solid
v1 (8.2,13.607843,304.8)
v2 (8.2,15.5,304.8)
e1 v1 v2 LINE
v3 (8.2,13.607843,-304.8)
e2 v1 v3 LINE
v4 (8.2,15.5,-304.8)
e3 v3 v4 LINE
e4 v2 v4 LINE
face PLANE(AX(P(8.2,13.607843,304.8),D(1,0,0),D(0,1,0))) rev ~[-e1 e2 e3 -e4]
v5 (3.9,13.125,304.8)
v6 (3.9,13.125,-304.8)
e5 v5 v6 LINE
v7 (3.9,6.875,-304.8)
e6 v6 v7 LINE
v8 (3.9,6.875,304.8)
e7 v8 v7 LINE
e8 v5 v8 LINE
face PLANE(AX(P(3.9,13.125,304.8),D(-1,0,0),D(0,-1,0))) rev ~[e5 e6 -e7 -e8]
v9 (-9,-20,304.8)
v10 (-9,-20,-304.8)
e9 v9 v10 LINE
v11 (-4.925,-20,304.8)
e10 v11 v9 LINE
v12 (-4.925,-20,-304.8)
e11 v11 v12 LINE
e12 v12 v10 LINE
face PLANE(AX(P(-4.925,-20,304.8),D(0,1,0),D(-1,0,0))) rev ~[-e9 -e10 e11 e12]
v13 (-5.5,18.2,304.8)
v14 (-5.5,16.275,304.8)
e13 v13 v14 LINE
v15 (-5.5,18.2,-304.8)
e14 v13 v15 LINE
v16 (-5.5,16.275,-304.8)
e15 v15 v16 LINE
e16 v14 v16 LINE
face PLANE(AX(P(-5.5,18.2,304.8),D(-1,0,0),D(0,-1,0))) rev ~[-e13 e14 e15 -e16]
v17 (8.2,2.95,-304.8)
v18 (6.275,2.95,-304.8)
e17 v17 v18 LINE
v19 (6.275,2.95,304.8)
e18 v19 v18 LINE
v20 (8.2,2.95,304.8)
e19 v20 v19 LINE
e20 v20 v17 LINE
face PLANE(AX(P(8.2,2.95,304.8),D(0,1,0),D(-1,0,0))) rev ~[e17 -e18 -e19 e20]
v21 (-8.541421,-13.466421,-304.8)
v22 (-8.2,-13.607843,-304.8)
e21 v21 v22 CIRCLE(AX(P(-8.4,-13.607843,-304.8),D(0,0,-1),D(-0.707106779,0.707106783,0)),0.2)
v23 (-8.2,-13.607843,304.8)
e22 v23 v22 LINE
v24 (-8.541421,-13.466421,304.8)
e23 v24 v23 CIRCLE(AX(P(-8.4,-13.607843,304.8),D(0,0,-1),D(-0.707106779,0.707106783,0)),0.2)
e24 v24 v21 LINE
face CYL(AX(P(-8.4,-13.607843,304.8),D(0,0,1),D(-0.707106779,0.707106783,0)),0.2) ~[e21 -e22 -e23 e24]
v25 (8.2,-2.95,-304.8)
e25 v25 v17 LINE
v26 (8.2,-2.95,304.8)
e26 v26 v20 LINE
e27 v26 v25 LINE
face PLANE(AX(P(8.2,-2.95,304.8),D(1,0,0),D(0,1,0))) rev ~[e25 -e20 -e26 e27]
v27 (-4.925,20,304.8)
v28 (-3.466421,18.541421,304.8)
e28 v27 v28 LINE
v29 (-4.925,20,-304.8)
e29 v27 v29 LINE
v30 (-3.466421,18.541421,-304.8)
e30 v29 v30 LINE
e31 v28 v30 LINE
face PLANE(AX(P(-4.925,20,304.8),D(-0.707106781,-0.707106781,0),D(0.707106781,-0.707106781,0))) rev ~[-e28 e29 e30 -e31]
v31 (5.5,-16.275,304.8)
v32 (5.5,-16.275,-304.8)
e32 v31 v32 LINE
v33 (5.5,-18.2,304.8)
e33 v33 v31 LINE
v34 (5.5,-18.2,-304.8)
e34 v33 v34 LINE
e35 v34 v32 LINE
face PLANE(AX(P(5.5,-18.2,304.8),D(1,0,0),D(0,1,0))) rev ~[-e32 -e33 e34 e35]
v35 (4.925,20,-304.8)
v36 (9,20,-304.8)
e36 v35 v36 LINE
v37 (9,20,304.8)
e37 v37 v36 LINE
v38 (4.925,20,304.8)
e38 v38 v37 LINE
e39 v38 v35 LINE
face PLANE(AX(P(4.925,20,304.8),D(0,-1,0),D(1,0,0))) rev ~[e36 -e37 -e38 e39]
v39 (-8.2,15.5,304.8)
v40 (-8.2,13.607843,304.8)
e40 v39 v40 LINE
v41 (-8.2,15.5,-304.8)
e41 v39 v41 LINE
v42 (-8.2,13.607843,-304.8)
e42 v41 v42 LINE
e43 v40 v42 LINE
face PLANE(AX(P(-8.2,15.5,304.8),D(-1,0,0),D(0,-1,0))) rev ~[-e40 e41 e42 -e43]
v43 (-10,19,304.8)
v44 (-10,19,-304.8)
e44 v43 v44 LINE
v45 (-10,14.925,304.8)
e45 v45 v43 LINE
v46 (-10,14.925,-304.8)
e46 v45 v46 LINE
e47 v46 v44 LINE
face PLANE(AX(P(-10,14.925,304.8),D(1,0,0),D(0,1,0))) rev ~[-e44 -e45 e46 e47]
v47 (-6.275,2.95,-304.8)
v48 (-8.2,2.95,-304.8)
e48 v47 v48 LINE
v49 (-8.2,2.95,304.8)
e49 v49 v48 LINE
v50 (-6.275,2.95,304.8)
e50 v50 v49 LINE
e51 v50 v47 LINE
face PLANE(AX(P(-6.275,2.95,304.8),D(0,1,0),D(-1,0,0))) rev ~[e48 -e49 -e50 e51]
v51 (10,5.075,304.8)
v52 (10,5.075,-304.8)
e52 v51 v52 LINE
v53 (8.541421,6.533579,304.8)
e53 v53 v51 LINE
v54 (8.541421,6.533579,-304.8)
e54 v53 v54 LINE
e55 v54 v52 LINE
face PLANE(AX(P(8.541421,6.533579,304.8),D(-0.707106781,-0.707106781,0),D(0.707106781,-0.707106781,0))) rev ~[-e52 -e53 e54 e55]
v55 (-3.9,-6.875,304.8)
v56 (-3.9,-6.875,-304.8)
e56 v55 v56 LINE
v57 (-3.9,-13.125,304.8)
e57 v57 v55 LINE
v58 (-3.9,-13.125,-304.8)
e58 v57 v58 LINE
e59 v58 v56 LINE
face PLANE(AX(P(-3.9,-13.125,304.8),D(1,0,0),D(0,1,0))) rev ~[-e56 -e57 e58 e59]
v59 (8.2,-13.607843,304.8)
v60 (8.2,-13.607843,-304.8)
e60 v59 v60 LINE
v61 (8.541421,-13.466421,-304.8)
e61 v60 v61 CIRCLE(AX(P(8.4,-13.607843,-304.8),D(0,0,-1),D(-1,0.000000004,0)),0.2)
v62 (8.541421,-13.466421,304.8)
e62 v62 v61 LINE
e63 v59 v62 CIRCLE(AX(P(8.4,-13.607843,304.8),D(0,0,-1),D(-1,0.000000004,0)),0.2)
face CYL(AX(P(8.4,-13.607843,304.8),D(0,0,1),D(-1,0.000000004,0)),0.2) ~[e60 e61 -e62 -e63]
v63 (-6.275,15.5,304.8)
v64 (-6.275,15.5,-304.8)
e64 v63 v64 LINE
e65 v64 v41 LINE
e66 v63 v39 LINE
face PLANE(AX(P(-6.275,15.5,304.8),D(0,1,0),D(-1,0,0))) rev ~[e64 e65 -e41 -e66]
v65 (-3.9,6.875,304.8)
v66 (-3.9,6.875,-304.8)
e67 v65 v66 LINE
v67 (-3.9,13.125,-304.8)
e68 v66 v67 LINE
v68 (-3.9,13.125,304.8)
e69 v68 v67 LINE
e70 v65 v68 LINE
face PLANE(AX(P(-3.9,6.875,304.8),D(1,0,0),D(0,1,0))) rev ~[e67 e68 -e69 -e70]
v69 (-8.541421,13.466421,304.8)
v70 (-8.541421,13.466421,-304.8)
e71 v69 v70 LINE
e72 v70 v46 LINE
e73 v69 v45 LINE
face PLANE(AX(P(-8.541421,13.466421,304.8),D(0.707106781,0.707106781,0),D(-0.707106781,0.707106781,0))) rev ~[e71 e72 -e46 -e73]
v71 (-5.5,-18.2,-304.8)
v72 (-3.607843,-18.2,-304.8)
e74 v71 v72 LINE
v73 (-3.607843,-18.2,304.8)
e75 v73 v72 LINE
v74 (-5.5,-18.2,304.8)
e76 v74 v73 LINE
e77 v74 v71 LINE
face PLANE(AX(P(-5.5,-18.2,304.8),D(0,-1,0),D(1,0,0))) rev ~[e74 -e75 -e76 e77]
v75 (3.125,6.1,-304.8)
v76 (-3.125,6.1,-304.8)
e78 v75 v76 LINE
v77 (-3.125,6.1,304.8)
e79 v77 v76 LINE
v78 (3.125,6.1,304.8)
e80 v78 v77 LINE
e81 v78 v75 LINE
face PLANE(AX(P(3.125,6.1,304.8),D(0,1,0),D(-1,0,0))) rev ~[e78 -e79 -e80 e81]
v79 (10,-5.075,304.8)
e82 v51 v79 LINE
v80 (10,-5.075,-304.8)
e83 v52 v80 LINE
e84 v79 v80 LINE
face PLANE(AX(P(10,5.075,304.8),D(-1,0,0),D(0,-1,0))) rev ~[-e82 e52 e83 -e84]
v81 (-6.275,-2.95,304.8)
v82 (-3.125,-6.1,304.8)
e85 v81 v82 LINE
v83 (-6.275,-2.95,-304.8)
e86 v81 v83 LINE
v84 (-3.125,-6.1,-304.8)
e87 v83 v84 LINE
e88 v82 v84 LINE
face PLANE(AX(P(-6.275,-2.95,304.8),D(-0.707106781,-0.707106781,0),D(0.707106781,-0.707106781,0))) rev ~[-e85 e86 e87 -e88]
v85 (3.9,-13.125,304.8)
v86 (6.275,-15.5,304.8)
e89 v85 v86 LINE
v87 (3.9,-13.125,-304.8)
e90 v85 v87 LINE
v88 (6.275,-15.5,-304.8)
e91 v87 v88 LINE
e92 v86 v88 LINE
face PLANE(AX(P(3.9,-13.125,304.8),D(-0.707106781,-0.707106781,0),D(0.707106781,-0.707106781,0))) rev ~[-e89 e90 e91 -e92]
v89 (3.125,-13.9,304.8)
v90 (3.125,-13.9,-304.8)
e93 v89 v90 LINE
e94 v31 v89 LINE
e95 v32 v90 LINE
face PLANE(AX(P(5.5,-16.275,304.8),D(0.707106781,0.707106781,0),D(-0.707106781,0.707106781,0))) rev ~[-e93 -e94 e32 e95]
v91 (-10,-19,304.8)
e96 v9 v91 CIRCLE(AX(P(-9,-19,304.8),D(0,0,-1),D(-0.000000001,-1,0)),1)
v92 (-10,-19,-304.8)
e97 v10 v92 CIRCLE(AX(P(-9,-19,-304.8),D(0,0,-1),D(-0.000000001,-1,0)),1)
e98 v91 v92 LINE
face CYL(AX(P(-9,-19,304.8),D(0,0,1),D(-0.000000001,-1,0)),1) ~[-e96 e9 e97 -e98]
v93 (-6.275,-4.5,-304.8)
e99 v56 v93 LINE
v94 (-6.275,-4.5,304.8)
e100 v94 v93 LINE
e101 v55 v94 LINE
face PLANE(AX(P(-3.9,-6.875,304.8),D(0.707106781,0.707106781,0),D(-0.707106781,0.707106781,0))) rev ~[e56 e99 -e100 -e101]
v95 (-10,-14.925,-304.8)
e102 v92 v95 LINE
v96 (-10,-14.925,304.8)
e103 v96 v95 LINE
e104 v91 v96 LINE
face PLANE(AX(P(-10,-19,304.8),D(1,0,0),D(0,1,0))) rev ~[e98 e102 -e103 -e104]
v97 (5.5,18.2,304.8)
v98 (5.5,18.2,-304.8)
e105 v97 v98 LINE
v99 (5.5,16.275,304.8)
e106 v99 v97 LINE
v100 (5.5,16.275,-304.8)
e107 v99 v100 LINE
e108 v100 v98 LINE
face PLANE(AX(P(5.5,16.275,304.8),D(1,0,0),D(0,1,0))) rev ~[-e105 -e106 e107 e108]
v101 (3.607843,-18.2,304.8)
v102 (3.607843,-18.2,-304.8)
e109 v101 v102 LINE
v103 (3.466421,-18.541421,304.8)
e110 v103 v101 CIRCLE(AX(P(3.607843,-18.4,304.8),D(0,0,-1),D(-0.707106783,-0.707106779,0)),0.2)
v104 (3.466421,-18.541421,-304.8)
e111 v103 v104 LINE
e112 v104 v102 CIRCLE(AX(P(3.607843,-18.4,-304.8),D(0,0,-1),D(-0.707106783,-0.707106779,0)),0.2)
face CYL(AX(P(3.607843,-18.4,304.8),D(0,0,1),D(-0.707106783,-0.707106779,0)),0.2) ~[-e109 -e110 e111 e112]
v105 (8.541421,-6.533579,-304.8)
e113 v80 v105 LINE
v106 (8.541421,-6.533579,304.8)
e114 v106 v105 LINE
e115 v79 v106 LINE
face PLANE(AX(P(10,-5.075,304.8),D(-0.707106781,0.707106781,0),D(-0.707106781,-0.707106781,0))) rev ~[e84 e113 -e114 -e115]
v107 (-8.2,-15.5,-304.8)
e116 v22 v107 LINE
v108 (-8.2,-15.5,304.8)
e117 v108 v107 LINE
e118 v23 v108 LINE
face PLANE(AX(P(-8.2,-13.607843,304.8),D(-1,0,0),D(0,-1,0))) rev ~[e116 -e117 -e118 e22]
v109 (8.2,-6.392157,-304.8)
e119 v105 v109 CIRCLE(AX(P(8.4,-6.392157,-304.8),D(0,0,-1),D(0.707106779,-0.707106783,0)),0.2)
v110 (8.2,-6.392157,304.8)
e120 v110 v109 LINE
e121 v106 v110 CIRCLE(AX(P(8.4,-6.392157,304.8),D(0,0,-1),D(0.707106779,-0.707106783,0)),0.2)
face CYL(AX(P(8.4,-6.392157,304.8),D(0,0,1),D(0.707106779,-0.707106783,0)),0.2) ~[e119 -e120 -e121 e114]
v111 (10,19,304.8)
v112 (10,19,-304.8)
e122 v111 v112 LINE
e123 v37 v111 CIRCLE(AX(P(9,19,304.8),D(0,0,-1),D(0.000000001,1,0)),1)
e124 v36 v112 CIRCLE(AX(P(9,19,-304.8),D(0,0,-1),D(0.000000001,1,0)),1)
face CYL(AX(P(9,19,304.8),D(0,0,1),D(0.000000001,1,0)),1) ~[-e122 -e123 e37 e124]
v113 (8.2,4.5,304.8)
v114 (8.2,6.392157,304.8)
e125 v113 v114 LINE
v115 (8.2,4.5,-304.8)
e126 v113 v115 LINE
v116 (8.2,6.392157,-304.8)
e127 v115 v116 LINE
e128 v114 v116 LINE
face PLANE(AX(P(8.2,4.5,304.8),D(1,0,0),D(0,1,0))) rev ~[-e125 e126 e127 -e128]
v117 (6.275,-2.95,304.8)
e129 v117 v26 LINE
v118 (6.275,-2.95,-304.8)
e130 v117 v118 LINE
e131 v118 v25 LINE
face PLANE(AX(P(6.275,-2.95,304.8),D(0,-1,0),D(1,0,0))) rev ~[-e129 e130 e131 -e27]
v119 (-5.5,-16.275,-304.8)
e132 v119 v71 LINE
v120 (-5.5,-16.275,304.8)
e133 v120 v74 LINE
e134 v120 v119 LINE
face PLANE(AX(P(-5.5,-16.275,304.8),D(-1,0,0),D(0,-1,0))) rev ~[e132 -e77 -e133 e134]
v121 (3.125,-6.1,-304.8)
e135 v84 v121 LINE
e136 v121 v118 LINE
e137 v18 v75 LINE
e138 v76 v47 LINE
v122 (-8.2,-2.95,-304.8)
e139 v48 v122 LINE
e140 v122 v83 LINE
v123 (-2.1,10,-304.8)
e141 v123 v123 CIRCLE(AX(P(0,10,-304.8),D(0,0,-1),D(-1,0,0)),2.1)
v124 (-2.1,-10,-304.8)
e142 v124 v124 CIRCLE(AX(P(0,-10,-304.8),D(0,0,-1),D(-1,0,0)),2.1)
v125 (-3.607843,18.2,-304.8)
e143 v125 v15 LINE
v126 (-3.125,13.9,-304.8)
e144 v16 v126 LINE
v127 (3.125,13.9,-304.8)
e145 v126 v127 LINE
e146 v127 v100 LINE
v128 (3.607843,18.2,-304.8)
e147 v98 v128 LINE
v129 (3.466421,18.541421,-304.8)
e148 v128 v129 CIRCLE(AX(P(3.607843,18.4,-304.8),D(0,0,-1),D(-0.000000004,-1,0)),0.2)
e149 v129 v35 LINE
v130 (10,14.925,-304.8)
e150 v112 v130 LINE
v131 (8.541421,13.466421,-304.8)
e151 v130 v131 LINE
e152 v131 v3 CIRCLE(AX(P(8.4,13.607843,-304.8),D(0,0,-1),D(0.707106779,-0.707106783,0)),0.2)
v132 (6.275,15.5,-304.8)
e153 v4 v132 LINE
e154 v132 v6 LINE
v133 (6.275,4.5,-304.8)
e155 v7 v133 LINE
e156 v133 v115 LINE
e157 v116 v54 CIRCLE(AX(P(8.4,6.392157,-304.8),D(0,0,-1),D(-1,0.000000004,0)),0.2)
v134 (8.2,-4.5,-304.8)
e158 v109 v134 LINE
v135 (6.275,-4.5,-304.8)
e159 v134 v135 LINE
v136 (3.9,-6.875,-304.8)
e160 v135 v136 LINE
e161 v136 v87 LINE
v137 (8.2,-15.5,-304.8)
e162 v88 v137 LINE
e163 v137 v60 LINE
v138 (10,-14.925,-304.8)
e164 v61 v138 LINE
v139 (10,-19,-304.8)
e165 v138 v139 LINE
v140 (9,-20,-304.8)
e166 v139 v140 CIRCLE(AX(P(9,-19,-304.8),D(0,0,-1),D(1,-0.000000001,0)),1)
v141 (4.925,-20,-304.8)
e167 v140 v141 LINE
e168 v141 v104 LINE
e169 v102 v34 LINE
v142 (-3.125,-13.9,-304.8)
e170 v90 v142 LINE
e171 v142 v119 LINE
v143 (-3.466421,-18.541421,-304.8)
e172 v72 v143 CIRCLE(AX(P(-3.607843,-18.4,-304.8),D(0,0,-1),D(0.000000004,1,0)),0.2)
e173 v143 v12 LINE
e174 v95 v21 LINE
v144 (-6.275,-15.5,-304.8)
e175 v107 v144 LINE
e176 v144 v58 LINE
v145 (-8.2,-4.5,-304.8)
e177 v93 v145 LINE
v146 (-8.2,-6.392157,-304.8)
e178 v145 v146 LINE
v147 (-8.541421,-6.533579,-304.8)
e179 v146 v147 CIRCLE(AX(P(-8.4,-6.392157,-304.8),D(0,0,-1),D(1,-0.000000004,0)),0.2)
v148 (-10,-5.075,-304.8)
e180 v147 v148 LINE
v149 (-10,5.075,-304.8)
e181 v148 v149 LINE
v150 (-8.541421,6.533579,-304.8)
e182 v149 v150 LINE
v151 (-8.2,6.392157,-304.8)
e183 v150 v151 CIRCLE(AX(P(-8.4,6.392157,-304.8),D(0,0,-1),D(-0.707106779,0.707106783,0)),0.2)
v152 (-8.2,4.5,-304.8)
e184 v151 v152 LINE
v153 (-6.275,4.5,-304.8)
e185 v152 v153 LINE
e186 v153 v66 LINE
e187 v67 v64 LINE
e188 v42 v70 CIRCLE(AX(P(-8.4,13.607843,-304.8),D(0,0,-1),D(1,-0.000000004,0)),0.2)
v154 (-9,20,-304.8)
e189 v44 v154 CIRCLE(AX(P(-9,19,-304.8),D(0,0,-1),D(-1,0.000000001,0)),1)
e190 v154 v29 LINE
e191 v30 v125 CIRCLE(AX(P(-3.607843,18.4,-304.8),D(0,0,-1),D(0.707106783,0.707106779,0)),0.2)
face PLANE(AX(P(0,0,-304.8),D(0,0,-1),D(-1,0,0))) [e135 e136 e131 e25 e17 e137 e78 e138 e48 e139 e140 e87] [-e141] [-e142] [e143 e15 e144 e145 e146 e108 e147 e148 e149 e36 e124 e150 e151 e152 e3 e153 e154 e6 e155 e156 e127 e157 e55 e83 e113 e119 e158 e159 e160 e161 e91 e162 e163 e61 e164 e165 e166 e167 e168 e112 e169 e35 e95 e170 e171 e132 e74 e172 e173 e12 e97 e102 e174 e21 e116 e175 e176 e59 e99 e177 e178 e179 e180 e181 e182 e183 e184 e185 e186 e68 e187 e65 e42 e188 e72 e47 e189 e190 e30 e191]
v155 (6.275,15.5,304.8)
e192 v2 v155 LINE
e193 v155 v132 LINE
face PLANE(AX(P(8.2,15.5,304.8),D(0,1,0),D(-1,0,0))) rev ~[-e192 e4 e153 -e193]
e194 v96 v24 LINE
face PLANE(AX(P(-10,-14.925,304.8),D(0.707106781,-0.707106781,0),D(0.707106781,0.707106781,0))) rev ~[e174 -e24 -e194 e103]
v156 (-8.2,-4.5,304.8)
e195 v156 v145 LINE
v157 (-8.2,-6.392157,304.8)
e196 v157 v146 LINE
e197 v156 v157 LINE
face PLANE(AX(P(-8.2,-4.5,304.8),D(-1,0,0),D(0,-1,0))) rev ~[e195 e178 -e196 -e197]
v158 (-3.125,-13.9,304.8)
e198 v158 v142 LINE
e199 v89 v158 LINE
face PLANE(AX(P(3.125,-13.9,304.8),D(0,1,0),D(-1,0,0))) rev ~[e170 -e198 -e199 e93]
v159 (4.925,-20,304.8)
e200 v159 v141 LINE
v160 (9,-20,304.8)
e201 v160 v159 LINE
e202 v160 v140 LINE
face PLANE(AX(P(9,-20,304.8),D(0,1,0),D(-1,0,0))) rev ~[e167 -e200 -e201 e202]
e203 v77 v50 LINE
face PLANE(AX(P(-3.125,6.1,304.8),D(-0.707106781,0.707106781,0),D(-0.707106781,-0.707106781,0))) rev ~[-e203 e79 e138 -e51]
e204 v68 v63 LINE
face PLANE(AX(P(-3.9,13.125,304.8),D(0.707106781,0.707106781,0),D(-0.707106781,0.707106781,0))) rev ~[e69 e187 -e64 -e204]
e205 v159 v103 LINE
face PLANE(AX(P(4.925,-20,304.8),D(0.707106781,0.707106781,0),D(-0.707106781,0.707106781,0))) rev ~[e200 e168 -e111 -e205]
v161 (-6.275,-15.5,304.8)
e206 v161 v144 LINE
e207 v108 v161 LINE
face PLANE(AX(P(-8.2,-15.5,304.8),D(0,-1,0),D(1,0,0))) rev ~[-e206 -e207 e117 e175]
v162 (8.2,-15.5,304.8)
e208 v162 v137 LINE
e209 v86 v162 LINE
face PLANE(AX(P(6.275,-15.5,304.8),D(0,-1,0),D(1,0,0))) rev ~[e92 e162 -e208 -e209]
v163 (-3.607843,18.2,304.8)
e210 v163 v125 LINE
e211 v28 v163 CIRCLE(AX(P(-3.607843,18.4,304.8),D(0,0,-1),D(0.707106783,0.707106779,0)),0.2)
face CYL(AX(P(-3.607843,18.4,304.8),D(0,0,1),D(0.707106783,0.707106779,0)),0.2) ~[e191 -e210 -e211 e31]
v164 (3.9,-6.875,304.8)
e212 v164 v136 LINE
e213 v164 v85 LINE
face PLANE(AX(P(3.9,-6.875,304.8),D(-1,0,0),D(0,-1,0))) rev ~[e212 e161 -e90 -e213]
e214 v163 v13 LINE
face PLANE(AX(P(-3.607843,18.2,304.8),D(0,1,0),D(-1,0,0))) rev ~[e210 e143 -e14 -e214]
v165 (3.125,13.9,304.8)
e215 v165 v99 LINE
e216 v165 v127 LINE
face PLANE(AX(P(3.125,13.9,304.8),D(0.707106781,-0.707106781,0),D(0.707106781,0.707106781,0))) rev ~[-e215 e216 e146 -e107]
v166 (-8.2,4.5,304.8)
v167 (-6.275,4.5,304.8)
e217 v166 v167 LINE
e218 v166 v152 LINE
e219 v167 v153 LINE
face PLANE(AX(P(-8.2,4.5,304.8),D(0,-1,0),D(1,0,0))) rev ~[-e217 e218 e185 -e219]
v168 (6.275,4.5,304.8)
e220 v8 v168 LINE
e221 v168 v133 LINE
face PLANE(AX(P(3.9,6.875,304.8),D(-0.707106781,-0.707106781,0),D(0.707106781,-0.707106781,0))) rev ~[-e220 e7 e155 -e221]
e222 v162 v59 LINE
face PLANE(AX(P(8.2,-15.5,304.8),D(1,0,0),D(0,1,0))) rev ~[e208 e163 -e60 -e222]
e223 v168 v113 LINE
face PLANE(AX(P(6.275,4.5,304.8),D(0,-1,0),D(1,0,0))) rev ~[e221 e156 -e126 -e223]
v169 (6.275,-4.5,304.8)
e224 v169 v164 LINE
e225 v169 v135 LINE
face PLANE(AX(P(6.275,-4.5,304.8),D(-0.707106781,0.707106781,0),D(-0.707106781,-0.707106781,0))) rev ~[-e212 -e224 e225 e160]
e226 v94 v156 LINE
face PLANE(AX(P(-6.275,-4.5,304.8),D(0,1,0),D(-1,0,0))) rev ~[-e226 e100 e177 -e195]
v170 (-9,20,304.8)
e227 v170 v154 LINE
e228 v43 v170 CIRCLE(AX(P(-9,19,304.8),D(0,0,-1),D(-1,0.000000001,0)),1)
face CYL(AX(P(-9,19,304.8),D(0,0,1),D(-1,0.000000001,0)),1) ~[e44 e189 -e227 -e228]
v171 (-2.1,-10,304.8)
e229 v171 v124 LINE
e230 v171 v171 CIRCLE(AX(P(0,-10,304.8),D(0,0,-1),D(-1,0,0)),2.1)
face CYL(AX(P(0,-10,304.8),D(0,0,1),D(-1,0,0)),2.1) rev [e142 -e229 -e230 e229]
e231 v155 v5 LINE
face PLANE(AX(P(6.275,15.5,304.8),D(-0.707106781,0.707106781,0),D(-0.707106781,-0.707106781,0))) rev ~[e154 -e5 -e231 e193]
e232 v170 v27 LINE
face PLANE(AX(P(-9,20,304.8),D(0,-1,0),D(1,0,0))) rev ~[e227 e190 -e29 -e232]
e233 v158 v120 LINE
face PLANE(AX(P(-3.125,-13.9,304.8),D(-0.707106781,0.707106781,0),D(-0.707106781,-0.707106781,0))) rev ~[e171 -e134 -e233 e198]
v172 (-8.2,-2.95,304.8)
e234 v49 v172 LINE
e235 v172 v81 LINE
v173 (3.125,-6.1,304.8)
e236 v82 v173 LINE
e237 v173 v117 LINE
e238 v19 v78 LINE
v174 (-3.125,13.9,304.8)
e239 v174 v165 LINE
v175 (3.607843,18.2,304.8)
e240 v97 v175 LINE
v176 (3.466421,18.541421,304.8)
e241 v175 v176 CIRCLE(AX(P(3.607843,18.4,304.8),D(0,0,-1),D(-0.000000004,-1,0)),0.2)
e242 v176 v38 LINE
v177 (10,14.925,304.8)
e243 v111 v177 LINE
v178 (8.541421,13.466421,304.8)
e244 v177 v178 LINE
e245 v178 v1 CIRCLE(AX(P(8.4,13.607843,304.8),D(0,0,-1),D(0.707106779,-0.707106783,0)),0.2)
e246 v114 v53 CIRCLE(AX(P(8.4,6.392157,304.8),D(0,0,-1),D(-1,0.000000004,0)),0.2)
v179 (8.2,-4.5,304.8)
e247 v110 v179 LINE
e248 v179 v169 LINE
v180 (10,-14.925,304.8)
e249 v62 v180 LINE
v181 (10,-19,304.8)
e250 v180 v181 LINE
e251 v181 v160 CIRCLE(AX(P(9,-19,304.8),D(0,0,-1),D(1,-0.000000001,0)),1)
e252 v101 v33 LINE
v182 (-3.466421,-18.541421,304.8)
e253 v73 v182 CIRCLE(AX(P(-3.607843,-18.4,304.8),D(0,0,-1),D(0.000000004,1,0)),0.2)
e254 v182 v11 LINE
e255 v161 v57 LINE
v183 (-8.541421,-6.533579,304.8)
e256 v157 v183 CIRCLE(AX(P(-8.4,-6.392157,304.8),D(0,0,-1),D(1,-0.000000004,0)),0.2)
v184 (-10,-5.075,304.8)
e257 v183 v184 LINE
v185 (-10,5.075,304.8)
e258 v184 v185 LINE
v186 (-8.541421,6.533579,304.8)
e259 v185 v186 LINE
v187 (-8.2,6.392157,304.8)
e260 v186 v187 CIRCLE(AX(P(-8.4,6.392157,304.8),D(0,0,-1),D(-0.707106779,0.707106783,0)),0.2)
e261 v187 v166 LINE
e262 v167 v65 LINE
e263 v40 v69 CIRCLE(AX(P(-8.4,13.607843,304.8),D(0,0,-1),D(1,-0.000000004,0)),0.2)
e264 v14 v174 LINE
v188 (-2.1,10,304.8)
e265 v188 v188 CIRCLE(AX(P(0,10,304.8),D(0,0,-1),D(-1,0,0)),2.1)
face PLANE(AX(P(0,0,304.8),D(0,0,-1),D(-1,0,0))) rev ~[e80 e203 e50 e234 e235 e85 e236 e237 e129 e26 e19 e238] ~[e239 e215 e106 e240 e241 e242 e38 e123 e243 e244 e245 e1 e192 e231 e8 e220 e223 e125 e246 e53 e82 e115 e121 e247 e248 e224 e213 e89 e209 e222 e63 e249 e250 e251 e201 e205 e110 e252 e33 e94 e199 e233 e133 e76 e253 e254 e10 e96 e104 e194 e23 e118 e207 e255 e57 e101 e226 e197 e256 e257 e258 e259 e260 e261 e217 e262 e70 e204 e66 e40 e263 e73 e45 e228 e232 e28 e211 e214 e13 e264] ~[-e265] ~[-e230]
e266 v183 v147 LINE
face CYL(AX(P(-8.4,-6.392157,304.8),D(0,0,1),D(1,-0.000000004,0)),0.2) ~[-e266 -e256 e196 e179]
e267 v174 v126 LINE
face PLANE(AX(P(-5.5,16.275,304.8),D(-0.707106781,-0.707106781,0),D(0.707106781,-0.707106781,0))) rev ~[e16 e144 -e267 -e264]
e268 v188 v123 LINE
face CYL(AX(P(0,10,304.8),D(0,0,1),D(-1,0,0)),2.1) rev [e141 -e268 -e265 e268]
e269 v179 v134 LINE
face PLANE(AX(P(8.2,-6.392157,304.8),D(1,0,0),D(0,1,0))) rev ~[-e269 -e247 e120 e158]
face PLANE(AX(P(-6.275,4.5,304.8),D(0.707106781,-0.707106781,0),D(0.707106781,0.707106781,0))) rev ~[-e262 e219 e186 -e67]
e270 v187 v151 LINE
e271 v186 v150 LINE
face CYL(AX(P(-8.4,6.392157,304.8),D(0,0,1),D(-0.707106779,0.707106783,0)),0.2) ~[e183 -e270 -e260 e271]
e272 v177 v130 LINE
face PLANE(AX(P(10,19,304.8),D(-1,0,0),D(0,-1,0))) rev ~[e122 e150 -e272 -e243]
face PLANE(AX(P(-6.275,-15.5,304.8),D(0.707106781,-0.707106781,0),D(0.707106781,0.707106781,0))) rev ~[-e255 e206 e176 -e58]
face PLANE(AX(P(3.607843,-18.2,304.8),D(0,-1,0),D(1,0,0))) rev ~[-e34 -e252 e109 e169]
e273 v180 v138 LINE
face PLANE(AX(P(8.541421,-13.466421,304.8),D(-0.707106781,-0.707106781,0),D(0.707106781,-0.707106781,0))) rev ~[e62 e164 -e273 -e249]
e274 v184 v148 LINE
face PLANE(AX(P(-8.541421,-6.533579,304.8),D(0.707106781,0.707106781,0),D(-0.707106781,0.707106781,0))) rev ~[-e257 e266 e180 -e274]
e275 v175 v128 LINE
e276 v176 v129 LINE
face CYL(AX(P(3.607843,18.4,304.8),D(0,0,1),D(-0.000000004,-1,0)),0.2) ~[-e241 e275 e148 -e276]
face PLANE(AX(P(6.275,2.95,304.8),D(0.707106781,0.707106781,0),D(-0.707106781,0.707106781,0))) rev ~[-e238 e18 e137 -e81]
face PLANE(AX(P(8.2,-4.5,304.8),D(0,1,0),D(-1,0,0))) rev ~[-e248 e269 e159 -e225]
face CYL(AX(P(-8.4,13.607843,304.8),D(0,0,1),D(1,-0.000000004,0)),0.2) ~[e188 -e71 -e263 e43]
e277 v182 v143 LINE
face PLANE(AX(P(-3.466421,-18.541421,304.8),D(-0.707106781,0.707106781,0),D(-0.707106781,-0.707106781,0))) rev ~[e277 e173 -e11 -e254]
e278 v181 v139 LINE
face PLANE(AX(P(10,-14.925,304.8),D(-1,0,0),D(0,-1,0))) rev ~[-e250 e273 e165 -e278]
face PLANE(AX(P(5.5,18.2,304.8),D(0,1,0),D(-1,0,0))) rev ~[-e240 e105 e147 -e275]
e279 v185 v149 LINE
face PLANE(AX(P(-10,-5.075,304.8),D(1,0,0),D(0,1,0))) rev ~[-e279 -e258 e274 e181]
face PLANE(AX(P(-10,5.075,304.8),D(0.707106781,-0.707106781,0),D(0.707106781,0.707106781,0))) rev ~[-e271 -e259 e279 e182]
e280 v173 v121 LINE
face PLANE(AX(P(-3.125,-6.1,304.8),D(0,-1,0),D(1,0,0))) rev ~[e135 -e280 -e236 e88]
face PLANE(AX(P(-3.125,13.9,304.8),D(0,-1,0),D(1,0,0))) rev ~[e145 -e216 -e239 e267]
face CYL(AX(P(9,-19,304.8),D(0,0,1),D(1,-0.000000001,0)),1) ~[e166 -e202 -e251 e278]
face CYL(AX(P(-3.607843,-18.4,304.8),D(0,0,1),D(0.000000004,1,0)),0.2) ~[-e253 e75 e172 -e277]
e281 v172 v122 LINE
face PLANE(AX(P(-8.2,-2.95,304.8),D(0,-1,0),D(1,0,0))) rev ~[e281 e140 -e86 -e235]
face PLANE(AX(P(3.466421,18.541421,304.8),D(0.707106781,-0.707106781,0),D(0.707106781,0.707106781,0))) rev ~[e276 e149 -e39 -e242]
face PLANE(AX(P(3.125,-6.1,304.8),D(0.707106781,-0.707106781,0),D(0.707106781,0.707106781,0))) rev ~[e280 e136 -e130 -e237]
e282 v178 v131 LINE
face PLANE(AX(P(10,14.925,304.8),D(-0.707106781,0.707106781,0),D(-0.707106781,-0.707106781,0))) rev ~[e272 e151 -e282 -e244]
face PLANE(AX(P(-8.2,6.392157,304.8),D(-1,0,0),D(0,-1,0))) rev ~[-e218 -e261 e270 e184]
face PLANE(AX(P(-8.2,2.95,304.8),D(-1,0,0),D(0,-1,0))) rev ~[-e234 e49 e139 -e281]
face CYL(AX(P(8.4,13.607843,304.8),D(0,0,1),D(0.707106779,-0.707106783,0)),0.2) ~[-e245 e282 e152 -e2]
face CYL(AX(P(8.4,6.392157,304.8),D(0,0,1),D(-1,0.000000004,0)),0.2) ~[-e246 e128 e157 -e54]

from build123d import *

# Parameters (mm, degrees)
SKETCH11_R             = 2.1
VSLOT2040_2040_1_DEPTH = 609.6


with BuildPart() as part:
    # Sketch11 → Vslot2040 2040(1) (new body)
    with BuildSketch(Plane(origin=(0, 0, 304.8), x_dir=(-1, 0, 0), z_dir=(0, 0, -1))):
        with BuildLine():
            Line((5.5, -18.2), (3.607842712, -18.2))
            ThreePointArc((3.607842712, -18.2), (3.423066806, -18.323463314), (3.466421356, -18.541421356))
            Line((3.466421356, -18.541421356), (4.925, -20))
            Line((4.925, -20), (9, -20))
            ThreePointArc((9, -20), (9.707106781, -19.707106781), (10, -19))
            Line((10, -19), (10, -14.925))
            Line((10, -14.925), (8.541421356, -13.466421356))
            ThreePointArc((8.541421356, -13.466421356), (8.323463314, -13.423066806), (8.2, -13.607842712))
            Line((8.2, -13.607842712), (8.2, -15.5))
            Line((8.2, -15.5), (6.275, -15.5))
            Line((6.275, -15.5), (3.9, -13.125))
            Line((3.9, -13.125), (3.9, -6.875))
            Line((3.9, -6.875), (6.275, -4.5))
            Line((6.275, -4.5), (8.2, -4.5))
            Line((8.2, -4.5), (8.2, -6.392157288))
            ThreePointArc((8.2, -6.392157288), (8.323463314, -6.576933194), (8.541421356, -6.533578644))
            Line((8.541421356, -6.533578644), (10, -5.075))
            Line((10, -5.075), (10, 5.075))
            Line((10, 5.075), (8.541421356, 6.533578644))
            ThreePointArc((8.541421356, 6.533578644), (8.323463314, 6.576933194), (8.2, 6.392157288))
            Line((8.2, 6.392157288), (8.2, 4.5))
            Line((8.2, 4.5), (6.275, 4.5))
            Line((6.275, 4.5), (3.9, 6.875))
            Line((3.9, 6.875), (3.9, 13.125))
            Line((3.9, 13.125), (6.275, 15.5))
            Line((6.275, 15.5), (8.2, 15.5))
            Line((8.2, 15.5), (8.2, 13.607842712))
            ThreePointArc((8.2, 13.607842712), (8.323463314, 13.423066806), (8.541421356, 13.466421356))
            Line((8.541421356, 13.466421356), (10, 14.925))
            Line((10, 14.925), (10, 19))
            ThreePointArc((10, 19), (9.707106781, 19.707106781), (9, 20))
            Line((9, 20), (4.925, 20))
            Line((4.925, 20), (3.466421356, 18.541421356))
            ThreePointArc((3.466421356, 18.541421356), (3.423066806, 18.323463314), (3.607842712, 18.2))
            Line((3.607842712, 18.2), (5.5, 18.2))
            Line((5.5, 18.2), (5.5, 16.275))
            Line((5.5, 16.275), (3.125, 13.9))
            Line((3.125, 13.9), (-3.125, 13.9))
            Line((-3.125, 13.9), (-5.5, 16.275))
            Line((-5.5, 16.275), (-5.5, 18.2))
            Line((-5.5, 18.2), (-3.607842712, 18.2))
            ThreePointArc((-3.607842712, 18.2), (-3.423066806, 18.323463314), (-3.466421356, 18.541421356))
            Line((-3.466421356, 18.541421356), (-4.925, 20))
            Line((-4.925, 20), (-9, 20))
            ThreePointArc((-9, 20), (-9.707106781, 19.707106781), (-10, 19))
            Line((-10, 19), (-10, 14.925))
            Line((-10, 14.925), (-8.541421356, 13.466421356))
            ThreePointArc((-8.541421356, 13.466421356), (-8.323463314, 13.423066806), (-8.2, 13.607842712))
            Line((-8.2, 13.607842712), (-8.2, 15.5))
            Line((-8.2, 15.5), (-6.275, 15.5))
            Line((-6.275, 15.5), (-3.9, 13.125))
            Line((-3.9, 13.125), (-3.9, 6.875))
            Line((-3.9, 6.875), (-6.275, 4.5))
            Line((-6.275, 4.5), (-8.2, 4.5))
            Line((-8.2, 4.5), (-8.2, 6.392157288))
            ThreePointArc((-8.2, 6.392157288), (-8.323463314, 6.576933194), (-8.541421356, 6.533578644))
            Line((-8.541421356, 6.533578644), (-10, 5.075))
            Line((-10, 5.075), (-10, -5.075))
            Line((-10, -5.075), (-8.541421356, -6.533578644))
            ThreePointArc((-8.541421356, -6.533578644), (-8.323463314, -6.576933194), (-8.2, -6.392157288))
            Line((-8.2, -6.392157288), (-8.2, -4.5))
            Line((-8.2, -4.5), (-6.275, -4.5))
            Line((-6.275, -4.5), (-3.9, -6.875))
            Line((-3.9, -6.875), (-3.9, -13.125))
            Line((-3.9, -13.125), (-6.275, -15.5))
            Line((-6.275, -15.5), (-8.2, -15.5))
            Line((-8.2, -15.5), (-8.2, -13.607842712))
            ThreePointArc((-8.2, -13.607842712), (-8.323463314, -13.423066806), (-8.541421356, -13.466421356))
            Line((-8.541421356, -13.466421356), (-10, -14.925))
            Line((-10, -14.925), (-10, -19))
            ThreePointArc((-10, -19), (-9.707106781, -19.707106781), (-9, -20))
            Line((-9, -20), (-4.925, -20))
            Line((-4.925, -20), (-3.466421356, -18.541421356))
            ThreePointArc((-3.466421356, -18.541421356), (-3.423066806, -18.323463314), (-3.607842712, -18.2))
            Line((-3.607842712, -18.2), (-5.5, -18.2))
            Line((-5.5, -18.2), (-5.5, -16.275))
            Line((-5.5, -16.275), (-3.125, -13.9))
            Line((-3.125, -13.9), (3.125, -13.9))
            Line((3.125, -13.9), (5.5, -16.275))
            Line((5.5, -16.275), (5.5, -18.2))
        make_face()
        with Locations((0, -10)):
            Circle(SKETCH11_R, mode=Mode.SUBTRACT)
        with Locations((0, 10)):
            Circle(SKETCH11_R, mode=Mode.SUBTRACT)
        Polygon((3.125, 6.1), (6.275, 2.95), (8.2, 2.95), (8.2, -2.95), (6.275, -2.95), (3.125, -6.1), (-3.125, -6.1), (-6.275, -2.95), (-8.2, -2.95), (-8.2, 2.95), (-6.275, 2.95), (-3.125, 6.1), align=None, mode=Mode.SUBTRACT)
    extrude(amount=VSLOT2040_2040_1_DEPTH)


solid = part.part
